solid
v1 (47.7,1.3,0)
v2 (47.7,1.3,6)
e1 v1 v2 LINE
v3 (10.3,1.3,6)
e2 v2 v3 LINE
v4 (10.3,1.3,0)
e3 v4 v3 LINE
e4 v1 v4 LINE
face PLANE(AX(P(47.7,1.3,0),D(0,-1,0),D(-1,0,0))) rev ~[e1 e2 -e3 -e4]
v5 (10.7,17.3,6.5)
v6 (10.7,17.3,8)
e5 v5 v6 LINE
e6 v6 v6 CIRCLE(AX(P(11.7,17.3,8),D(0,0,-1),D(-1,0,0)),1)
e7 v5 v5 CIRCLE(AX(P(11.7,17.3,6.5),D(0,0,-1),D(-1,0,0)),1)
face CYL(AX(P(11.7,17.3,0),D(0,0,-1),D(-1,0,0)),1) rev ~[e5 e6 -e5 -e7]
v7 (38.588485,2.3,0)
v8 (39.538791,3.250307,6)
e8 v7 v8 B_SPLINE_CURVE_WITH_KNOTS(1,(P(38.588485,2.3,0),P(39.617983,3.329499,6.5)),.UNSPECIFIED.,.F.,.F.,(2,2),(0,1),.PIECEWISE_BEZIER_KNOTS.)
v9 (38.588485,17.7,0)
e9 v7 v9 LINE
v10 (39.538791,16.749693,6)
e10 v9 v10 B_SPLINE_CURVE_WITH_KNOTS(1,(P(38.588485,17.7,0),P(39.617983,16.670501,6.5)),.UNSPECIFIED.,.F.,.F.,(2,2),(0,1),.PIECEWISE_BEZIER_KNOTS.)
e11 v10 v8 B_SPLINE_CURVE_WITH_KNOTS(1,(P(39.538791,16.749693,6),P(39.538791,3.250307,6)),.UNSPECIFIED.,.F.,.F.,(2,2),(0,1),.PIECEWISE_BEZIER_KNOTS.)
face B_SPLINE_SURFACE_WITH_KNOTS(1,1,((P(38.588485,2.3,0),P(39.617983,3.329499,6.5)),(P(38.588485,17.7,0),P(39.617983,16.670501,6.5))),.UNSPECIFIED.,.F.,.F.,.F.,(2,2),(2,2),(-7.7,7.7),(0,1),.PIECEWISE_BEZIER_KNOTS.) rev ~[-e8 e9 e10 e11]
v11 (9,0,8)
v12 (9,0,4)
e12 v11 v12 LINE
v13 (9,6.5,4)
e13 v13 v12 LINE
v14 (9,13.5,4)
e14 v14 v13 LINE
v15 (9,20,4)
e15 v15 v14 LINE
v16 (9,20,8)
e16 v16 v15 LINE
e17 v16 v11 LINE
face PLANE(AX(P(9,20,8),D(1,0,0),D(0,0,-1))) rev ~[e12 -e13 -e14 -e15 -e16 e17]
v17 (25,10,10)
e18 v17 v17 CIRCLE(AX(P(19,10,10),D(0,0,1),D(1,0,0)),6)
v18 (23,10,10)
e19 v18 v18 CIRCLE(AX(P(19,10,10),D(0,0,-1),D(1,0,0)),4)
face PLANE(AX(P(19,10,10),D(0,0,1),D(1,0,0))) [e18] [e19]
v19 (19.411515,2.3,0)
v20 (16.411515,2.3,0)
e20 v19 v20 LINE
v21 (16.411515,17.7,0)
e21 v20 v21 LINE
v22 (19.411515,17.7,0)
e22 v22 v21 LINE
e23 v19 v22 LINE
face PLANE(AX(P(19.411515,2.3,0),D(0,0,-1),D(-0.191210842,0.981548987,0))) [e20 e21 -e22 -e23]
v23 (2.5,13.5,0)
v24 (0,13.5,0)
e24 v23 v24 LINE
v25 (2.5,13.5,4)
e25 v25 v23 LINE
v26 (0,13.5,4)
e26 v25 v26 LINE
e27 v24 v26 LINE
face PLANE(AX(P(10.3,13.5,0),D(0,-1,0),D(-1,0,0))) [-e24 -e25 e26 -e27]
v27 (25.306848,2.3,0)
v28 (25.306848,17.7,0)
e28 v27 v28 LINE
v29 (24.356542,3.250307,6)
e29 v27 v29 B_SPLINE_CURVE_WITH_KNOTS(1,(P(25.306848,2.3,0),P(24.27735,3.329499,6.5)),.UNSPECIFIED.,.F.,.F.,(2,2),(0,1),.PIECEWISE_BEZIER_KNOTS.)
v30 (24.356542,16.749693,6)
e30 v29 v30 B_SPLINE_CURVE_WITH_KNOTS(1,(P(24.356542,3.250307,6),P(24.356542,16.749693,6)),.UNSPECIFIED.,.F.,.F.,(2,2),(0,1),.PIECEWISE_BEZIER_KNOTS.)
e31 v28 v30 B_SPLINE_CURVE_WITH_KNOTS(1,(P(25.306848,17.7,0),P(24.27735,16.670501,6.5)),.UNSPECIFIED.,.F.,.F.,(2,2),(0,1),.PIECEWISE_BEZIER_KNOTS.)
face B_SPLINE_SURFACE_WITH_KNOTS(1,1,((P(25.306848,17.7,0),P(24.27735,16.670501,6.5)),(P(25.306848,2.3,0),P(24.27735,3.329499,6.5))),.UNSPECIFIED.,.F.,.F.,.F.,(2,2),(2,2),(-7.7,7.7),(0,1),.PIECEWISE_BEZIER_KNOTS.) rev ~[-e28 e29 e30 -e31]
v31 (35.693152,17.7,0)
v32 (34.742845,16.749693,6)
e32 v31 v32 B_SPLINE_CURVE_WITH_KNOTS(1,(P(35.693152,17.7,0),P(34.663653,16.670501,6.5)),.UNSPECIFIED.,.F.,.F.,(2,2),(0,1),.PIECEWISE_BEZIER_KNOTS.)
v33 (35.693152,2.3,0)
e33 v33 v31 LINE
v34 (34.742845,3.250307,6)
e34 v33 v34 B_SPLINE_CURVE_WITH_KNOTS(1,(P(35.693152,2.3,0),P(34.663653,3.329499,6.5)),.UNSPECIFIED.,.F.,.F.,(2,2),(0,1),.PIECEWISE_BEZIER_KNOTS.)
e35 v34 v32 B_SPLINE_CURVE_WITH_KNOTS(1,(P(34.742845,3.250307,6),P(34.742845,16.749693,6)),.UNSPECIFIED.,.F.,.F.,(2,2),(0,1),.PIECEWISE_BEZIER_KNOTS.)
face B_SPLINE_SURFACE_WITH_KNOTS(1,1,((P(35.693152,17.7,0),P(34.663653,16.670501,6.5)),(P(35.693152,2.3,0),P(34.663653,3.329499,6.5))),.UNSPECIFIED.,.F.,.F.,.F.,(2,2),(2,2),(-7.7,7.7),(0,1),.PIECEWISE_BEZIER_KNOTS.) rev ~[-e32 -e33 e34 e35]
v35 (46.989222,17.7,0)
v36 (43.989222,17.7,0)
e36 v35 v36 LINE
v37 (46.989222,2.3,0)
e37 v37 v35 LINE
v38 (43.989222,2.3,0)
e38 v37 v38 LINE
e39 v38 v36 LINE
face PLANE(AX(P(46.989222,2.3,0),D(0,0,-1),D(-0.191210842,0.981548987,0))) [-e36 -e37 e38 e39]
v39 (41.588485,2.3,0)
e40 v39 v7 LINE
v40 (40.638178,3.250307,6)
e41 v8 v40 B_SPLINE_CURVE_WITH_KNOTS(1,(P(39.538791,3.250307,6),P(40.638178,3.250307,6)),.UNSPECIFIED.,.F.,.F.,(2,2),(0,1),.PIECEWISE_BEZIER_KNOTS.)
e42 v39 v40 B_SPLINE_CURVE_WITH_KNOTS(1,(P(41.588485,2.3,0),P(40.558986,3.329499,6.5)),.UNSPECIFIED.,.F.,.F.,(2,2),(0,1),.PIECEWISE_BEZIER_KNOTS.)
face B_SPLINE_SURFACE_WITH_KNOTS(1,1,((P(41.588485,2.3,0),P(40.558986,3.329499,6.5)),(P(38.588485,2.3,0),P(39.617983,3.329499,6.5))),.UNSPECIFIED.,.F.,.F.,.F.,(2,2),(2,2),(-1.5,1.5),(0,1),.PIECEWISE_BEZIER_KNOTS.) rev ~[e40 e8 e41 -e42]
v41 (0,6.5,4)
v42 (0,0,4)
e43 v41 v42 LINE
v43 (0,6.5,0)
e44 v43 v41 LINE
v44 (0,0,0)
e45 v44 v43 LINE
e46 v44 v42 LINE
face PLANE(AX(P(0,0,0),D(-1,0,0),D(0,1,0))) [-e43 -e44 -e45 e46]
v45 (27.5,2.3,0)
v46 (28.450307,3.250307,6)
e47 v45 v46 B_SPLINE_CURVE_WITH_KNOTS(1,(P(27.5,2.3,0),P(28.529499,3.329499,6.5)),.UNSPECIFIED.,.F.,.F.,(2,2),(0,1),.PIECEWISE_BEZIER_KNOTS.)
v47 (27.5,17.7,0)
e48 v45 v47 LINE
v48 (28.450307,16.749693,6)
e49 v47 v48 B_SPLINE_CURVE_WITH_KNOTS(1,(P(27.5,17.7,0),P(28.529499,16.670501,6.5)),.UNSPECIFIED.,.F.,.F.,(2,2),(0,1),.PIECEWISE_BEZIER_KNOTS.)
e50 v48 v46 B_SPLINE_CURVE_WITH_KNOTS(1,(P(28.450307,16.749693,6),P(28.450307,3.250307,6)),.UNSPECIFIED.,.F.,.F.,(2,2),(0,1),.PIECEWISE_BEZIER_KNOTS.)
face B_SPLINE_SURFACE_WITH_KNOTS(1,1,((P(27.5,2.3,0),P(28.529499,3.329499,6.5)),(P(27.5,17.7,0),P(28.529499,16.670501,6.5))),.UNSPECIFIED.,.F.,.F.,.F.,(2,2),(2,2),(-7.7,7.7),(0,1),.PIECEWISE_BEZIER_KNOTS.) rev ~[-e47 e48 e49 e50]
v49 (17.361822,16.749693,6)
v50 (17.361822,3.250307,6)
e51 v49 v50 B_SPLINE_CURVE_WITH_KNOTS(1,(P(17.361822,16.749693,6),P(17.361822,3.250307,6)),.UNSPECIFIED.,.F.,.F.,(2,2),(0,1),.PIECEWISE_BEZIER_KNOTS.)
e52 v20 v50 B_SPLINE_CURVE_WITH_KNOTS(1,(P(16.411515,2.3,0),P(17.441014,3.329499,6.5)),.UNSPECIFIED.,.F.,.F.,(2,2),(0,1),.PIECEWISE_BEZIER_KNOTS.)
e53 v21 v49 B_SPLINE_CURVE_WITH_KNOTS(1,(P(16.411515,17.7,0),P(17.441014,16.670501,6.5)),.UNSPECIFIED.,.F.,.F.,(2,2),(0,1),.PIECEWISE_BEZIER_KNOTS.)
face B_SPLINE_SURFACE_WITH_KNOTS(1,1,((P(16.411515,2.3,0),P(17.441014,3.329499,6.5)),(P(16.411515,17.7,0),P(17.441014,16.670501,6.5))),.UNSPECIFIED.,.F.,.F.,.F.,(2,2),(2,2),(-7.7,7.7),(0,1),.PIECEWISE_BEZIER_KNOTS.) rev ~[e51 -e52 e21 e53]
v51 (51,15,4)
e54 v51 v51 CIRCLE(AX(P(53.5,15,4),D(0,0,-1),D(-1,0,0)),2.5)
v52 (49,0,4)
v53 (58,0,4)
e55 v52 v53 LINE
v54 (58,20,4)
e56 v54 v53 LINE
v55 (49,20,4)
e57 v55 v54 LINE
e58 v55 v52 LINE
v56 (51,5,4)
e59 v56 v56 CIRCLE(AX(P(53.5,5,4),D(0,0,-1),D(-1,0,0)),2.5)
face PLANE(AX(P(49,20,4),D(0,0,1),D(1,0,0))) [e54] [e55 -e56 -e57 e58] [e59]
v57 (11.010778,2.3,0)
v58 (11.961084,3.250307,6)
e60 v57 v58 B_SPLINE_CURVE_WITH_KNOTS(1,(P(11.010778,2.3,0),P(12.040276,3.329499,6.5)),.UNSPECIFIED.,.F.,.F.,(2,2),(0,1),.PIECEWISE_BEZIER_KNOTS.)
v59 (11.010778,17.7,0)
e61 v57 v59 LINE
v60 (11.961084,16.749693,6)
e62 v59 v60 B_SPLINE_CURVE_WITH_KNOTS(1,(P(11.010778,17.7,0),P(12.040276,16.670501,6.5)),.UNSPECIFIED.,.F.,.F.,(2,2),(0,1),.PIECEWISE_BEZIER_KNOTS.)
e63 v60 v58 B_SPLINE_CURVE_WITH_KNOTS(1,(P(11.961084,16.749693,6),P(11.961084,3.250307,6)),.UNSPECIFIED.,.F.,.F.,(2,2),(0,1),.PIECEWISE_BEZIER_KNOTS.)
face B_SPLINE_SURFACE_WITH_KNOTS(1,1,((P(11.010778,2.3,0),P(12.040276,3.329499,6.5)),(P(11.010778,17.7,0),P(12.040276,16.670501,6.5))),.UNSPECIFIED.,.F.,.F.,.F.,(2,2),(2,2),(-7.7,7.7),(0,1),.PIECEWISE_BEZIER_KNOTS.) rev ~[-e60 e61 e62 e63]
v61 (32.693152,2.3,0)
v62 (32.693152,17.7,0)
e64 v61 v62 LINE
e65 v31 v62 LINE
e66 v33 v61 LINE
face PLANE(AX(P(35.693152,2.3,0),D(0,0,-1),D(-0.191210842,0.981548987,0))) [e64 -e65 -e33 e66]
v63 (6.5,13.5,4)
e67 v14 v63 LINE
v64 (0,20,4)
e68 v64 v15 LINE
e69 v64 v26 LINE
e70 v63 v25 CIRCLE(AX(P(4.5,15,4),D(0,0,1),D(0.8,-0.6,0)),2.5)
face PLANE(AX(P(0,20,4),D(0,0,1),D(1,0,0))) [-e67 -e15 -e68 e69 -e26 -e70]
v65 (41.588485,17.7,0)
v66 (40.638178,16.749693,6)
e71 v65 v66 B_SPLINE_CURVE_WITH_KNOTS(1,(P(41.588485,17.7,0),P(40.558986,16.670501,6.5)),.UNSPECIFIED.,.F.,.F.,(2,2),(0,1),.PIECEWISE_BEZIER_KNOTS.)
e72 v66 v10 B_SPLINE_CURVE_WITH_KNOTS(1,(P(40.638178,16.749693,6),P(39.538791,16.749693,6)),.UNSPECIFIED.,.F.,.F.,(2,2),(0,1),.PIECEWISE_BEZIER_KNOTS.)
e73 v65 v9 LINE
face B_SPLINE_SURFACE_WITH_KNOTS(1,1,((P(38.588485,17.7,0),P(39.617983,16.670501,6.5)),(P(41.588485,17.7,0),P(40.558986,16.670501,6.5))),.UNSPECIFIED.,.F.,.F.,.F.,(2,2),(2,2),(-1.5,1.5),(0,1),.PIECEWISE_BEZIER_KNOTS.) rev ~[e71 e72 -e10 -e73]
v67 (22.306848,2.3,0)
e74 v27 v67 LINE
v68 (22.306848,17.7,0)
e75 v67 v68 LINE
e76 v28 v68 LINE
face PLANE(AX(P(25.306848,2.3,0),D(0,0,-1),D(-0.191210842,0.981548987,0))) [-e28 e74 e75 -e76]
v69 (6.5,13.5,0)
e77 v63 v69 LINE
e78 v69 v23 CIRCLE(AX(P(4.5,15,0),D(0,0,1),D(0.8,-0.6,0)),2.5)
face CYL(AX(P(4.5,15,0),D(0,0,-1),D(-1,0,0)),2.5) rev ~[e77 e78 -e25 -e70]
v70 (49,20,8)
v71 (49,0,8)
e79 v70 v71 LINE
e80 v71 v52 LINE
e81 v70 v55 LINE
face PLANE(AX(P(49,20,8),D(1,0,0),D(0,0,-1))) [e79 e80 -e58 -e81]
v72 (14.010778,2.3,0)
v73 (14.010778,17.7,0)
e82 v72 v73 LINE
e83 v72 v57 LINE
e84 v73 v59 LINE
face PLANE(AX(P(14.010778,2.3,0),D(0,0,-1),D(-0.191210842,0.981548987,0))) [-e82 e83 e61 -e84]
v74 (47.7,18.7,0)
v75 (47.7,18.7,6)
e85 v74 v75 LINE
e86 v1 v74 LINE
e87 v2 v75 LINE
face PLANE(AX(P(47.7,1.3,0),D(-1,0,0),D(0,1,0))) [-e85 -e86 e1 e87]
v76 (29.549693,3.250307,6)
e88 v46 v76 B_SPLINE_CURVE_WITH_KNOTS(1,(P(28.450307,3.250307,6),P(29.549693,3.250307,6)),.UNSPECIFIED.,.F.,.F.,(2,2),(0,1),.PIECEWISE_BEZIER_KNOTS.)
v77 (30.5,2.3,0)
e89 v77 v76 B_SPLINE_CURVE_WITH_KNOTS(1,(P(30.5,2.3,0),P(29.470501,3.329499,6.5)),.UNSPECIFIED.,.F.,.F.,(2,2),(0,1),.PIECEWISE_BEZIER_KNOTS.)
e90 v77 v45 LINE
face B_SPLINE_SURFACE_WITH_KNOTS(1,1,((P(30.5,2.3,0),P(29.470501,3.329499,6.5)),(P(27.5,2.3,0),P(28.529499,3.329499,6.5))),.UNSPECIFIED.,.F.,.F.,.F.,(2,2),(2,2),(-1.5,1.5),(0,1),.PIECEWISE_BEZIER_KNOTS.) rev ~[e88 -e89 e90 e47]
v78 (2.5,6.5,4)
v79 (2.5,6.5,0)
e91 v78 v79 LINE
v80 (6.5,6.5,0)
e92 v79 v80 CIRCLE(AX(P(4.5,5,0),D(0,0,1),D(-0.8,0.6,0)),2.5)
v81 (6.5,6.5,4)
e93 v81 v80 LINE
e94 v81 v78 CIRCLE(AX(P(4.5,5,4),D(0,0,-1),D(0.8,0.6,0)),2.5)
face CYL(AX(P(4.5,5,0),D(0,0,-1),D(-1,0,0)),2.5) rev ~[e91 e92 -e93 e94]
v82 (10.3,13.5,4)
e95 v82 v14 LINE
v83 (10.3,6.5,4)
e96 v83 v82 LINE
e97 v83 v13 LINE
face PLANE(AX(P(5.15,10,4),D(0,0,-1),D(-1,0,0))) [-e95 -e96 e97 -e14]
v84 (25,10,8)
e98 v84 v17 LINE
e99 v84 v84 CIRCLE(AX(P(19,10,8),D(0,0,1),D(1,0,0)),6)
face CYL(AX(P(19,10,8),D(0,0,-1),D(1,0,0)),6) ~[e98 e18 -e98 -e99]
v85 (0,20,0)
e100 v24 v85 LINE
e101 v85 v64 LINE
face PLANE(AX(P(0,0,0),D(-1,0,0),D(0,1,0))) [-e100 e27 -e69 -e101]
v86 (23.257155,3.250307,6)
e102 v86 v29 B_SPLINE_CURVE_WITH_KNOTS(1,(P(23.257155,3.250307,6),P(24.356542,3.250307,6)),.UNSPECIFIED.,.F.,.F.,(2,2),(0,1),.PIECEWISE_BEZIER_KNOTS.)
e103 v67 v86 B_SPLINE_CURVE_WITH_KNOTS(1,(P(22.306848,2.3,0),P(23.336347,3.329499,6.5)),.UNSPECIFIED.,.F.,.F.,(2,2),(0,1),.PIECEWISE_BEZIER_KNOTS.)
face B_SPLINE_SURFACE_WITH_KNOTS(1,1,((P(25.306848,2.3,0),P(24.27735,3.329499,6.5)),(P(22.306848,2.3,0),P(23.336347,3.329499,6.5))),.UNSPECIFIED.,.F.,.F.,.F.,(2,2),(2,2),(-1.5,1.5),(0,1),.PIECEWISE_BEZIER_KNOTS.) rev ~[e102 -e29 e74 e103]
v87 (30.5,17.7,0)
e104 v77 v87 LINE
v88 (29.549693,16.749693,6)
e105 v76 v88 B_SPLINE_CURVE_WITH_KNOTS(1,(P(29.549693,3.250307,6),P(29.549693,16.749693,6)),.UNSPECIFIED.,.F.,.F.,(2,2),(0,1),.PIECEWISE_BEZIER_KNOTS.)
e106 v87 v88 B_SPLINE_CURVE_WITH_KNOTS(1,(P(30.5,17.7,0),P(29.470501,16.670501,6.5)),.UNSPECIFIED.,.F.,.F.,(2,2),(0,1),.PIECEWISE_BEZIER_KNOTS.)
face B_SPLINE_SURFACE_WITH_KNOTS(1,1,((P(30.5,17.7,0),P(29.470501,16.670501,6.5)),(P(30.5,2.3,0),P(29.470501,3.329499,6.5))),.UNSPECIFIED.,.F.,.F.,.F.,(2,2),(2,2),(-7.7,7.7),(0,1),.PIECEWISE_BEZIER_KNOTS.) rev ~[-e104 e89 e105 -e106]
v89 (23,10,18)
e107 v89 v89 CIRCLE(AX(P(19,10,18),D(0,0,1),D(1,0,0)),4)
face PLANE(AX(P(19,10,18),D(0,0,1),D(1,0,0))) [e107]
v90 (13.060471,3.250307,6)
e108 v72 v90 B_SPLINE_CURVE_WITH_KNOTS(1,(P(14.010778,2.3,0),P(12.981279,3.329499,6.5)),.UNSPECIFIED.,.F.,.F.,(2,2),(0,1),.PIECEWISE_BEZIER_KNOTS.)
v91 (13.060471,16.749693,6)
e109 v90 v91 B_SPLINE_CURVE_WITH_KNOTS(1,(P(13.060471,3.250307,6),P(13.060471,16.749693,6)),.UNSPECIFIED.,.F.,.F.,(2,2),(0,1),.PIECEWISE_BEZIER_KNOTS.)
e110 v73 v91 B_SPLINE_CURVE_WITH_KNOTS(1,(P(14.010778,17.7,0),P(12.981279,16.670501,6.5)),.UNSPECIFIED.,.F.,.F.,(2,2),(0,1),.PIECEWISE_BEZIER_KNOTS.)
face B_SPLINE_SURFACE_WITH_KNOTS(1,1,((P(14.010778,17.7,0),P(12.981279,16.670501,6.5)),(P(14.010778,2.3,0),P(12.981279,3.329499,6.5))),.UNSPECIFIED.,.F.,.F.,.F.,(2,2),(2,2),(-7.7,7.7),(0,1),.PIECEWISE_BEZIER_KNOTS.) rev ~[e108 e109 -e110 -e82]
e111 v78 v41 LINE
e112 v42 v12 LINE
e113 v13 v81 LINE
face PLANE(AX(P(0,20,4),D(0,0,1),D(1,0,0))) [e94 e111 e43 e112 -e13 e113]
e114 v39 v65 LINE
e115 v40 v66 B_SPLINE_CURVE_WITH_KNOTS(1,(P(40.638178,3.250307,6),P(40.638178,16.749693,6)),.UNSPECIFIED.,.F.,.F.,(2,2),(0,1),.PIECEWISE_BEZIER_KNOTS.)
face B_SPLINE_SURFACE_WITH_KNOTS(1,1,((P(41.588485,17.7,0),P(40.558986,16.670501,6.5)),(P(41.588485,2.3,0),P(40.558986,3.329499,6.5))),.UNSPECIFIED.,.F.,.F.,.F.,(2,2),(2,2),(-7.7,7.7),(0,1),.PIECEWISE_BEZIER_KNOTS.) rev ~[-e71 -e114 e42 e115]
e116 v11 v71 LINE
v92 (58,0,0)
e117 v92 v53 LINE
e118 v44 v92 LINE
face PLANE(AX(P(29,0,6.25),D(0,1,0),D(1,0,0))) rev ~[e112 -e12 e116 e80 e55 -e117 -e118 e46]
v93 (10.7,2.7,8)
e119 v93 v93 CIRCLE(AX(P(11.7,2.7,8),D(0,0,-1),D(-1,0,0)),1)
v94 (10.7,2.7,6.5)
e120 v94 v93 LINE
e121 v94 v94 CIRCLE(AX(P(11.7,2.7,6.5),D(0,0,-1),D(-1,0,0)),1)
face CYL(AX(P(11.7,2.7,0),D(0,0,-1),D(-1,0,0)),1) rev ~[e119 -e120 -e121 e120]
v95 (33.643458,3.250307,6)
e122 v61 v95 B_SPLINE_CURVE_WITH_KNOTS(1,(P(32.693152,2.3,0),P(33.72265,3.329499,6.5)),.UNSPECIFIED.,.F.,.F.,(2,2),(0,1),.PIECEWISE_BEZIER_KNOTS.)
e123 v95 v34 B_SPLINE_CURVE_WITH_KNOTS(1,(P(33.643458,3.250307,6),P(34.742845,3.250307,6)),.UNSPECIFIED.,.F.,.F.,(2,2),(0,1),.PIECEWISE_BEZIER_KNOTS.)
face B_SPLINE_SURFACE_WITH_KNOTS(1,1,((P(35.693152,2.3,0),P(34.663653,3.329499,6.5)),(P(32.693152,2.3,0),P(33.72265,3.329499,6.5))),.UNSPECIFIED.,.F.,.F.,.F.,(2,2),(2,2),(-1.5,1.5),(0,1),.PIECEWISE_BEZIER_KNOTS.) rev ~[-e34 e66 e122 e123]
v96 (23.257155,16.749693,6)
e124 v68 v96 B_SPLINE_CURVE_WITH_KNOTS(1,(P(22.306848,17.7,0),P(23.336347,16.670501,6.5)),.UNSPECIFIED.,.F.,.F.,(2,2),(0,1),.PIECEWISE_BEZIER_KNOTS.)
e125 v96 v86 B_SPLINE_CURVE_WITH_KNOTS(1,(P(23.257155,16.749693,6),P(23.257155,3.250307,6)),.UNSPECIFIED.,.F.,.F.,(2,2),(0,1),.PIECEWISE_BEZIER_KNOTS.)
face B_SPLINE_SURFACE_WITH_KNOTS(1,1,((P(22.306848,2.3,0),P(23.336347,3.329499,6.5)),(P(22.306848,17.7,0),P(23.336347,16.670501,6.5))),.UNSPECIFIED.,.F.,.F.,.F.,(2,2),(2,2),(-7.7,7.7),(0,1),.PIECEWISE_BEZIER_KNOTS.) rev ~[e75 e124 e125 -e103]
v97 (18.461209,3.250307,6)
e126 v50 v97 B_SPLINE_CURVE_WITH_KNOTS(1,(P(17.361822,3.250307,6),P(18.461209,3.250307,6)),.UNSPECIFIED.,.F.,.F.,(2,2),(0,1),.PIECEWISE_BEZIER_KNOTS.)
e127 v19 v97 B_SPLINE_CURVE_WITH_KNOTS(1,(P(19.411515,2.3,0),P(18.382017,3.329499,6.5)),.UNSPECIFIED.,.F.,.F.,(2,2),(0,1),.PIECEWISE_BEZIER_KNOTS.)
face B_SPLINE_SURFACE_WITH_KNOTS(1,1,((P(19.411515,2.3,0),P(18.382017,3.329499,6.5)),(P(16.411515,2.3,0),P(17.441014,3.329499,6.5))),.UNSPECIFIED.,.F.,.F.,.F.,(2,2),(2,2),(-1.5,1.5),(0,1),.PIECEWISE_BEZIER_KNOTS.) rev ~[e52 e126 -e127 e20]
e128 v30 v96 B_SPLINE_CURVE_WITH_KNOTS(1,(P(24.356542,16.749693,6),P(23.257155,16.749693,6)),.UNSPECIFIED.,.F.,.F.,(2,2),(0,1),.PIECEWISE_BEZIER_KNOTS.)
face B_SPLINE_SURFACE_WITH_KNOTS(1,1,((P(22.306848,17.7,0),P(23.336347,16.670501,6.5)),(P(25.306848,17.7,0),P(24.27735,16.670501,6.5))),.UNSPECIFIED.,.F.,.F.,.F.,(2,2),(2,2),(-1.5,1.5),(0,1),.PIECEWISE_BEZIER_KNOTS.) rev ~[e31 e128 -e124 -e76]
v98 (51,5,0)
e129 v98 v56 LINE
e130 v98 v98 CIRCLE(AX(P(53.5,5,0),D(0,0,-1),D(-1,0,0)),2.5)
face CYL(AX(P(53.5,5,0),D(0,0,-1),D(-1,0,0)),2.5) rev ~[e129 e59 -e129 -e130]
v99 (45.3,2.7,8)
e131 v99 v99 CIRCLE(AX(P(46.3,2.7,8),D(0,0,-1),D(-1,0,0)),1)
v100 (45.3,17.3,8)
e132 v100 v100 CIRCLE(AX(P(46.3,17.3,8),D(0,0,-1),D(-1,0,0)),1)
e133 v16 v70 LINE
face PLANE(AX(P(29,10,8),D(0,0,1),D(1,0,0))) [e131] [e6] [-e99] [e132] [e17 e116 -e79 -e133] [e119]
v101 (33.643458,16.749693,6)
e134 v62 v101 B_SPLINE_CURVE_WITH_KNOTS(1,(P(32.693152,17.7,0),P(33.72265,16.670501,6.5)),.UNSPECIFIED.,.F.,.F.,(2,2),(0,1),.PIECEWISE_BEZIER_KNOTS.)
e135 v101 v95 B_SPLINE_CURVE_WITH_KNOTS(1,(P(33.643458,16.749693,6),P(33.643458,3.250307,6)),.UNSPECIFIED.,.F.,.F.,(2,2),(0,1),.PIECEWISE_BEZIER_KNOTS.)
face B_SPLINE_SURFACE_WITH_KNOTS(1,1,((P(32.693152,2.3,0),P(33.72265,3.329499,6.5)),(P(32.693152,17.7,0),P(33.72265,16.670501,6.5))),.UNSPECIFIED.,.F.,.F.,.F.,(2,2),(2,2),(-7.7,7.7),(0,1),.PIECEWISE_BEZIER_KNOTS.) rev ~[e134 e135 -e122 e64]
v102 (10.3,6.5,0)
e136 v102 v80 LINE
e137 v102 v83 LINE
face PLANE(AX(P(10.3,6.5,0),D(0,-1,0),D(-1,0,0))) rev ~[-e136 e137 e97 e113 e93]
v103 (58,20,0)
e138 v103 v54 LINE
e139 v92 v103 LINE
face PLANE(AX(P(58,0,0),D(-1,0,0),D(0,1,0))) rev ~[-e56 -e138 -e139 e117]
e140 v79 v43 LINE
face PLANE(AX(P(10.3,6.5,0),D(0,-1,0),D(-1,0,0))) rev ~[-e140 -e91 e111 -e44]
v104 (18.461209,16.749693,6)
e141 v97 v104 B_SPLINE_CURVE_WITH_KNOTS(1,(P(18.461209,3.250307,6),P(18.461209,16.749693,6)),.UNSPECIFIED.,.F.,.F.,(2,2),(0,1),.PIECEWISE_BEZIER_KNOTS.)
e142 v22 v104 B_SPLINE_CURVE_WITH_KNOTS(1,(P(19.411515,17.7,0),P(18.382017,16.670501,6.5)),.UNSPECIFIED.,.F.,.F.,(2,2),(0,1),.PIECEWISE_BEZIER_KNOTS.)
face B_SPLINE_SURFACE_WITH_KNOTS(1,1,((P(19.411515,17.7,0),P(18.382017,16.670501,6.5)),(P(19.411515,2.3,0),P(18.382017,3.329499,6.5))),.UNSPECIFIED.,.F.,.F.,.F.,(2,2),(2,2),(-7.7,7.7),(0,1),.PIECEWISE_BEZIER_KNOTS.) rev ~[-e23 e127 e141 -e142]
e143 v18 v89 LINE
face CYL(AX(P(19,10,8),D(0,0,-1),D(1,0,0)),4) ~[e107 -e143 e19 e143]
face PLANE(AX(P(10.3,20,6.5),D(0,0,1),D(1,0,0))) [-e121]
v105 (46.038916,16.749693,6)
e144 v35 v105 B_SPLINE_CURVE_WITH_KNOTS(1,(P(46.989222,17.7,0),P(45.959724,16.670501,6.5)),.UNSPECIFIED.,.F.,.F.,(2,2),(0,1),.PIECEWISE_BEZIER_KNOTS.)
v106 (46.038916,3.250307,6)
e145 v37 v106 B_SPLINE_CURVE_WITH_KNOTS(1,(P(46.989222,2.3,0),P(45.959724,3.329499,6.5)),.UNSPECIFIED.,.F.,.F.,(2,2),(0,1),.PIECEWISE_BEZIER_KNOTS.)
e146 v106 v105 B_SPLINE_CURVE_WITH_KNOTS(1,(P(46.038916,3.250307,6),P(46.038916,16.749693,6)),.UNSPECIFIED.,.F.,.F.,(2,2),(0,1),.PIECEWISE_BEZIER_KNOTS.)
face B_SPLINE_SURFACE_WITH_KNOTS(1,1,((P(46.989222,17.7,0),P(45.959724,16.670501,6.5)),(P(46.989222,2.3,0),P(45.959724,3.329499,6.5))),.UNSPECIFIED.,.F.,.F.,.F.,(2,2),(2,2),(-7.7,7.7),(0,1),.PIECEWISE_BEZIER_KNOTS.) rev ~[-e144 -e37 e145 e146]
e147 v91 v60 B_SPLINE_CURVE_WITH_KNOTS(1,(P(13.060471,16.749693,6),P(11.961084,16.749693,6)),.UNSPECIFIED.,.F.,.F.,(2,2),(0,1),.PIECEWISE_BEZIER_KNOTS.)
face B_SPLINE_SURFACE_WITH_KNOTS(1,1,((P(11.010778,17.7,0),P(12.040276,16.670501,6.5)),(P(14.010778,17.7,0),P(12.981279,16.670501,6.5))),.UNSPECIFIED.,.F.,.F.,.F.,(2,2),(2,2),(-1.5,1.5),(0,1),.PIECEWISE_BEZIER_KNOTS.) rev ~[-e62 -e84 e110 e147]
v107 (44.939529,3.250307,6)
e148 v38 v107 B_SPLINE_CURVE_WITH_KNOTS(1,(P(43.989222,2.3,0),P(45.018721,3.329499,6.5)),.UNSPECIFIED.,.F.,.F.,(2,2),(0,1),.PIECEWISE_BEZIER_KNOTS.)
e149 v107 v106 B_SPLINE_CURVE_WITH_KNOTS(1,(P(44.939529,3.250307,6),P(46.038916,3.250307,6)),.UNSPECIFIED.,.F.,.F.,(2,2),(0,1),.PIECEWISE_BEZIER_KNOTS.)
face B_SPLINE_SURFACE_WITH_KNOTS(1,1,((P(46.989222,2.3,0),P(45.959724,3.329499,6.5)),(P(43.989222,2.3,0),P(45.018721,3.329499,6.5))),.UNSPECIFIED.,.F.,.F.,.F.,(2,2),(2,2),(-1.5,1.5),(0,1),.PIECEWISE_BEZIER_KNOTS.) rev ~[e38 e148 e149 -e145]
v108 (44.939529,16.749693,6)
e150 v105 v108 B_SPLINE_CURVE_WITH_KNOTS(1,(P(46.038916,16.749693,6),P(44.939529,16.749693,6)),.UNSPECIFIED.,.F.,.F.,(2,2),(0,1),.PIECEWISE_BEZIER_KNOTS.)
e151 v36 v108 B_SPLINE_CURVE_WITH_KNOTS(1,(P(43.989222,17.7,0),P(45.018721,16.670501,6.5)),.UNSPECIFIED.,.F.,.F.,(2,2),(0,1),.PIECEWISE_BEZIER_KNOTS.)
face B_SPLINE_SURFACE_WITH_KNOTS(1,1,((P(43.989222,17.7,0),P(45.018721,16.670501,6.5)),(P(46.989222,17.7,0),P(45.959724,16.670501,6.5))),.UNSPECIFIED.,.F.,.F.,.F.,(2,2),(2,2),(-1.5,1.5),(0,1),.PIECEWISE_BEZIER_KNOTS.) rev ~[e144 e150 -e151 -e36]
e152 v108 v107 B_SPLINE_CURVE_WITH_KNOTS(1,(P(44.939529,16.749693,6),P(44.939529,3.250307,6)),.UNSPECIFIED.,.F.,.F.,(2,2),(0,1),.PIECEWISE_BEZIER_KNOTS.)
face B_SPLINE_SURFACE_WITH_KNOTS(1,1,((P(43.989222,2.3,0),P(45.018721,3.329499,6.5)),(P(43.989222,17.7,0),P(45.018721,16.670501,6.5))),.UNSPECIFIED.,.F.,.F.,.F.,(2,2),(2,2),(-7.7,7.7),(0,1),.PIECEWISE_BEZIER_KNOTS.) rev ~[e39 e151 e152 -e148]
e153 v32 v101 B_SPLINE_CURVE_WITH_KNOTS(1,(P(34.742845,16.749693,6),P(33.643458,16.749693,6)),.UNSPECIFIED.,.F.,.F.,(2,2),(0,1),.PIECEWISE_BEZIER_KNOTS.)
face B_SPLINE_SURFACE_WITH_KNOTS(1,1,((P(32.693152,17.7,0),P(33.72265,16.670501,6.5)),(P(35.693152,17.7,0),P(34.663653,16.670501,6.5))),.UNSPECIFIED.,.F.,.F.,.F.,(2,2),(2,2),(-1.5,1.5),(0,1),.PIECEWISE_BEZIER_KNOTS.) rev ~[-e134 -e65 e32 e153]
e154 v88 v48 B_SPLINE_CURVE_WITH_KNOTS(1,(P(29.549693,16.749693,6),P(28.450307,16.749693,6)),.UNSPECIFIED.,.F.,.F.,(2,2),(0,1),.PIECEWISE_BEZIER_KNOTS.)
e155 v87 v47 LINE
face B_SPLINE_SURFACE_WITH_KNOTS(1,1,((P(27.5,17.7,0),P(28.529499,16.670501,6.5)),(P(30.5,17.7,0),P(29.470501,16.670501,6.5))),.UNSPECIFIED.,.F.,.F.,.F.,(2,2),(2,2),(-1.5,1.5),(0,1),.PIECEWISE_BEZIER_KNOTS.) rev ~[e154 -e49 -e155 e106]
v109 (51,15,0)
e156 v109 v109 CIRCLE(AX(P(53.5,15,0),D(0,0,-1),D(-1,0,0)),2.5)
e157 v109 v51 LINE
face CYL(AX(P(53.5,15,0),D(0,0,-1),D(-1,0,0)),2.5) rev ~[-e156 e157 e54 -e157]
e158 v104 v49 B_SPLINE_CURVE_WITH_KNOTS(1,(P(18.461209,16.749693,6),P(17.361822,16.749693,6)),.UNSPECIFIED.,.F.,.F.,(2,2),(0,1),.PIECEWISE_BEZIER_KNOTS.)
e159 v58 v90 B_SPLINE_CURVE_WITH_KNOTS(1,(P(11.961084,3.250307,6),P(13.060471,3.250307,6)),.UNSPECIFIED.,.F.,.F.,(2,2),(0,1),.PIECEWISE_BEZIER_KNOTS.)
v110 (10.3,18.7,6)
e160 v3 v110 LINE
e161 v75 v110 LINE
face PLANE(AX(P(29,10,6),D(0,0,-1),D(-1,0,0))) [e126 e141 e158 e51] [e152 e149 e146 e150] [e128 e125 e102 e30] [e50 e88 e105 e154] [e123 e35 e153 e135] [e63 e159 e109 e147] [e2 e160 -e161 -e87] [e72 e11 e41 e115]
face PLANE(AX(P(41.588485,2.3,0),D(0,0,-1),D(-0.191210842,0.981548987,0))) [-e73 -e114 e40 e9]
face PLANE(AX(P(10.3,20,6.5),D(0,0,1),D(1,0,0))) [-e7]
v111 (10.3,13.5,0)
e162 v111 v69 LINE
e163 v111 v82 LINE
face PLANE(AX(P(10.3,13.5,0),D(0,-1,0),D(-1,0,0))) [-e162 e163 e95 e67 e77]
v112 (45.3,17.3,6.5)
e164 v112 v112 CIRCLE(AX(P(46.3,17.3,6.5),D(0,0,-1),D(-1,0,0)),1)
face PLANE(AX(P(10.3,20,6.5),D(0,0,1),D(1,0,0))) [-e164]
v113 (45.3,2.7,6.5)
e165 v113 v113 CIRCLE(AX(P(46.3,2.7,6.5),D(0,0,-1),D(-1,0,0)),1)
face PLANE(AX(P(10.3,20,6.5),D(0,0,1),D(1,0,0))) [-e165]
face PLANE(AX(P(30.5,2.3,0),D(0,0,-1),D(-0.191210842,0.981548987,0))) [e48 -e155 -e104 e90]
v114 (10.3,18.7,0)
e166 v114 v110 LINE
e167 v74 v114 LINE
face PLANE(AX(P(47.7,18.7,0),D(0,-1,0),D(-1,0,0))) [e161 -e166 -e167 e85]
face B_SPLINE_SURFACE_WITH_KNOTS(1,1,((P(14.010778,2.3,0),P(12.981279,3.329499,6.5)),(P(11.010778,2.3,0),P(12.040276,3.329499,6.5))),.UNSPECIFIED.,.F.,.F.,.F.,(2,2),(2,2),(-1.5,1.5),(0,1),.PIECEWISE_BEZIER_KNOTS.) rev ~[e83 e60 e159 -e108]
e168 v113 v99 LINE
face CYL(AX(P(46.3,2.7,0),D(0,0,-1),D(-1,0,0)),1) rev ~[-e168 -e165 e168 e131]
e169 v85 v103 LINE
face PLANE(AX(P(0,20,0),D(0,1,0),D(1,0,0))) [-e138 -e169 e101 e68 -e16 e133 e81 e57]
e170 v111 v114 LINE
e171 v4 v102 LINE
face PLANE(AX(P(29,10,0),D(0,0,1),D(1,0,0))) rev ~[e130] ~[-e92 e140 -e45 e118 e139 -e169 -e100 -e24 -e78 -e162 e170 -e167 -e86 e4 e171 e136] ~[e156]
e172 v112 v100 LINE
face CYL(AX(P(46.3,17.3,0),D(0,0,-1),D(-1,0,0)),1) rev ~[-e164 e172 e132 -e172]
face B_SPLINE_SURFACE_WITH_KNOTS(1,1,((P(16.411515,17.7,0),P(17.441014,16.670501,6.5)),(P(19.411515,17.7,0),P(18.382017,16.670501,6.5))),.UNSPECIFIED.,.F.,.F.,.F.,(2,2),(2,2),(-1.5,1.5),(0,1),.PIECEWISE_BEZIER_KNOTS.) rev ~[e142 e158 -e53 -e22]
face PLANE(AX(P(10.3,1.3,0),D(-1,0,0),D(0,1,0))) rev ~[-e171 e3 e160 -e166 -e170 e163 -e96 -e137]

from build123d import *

# Parameters (mm, degrees)
ESQUISSE1_W             = 58
ESQUISSE1_H             = 20
EXTRUSION1_DEPTH        = 8
ESQUISSE2_W             = 37.4
ESQUISSE2_H             = 17.4
ENL_V_MAT_EXTRU_1_DEPTH = 6
ESQUISSE3_W             = 9
ESQUISSE3_H             = 4
ENL_V_MAT_EXTRU_2_DEPTH = 21
ESQUISSE4_R             = 2.5
ESQUISSE4_R_2           = 1
ENL_V_MAT_EXTRU_3_DEPTH = 9
ESQUISSE5_R             = 4
EXTRUSION2_DEPTH        = 10
ESQUISSE6_W             = 10.3
ESQUISSE6_H             = 7
ENL_V_MAT_EXTRU_4_DEPTH = 4
ESQUISSE10_W            = 37.4
ESQUISSE10_H            = 0.5
EXTRUSION8_DEPTH        = 20
ESQUISSE8_W             = 3
ESQUISSE8_H             = 15.4
EXTRUSION7_DEPTH        = 6.5
EXTRUSION7_TAPER        = 9
ESQUISSE11_R            = 6
EXTRUSION9_DEPTH        = 2


with BuildPart() as part:
    # Esquisse1 → Extrusion1 (new body)
    with BuildSketch(Plane.XY):
        with Locations((29, 10)):
            Rectangle(ESQUISSE1_W, ESQUISSE1_H)
    extrude(amount=EXTRUSION1_DEPTH)

    # Esquisse2 → Enlèv. mat.-Extru.1 (cut)
    with BuildSketch(Plane(origin=(0, 0, 0), x_dir=(-1, 0, 0), z_dir=(0, 0, -1))):
        with Locations((-29, 10)):
            Rectangle(ESQUISSE2_W, ESQUISSE2_H)
    extrude(amount=-ENL_V_MAT_EXTRU_1_DEPTH, mode=Mode.SUBTRACT)

    # Esquisse3 → Enlèv. mat.-Extru.2 (cut, through all)
    with BuildSketch(Plane(origin=(0, 20, 0), x_dir=(1, 0, 0), z_dir=(0, 1, 0))):
        with Locations((4.5, -6)):
            Rectangle(ESQUISSE3_W, ESQUISSE3_H)
        with Locations((53.5, -6)):
            Rectangle(ESQUISSE3_W, ESQUISSE3_H)
    extrude(amount=-ENL_V_MAT_EXTRU_2_DEPTH, mode=Mode.SUBTRACT)

    # Esquisse4 → Enlèv. mat.-Extru.3 (cut, through all)
    with BuildSketch(Plane(origin=(0, 0, 0), x_dir=(-1, 0, 0), z_dir=(0, 0, -1))):
        with Locations((-53.5, 15)):
            Circle(ESQUISSE4_R)
        with Locations((-46.3, 17.3)):
            Circle(ESQUISSE4_R_2)
        with Locations((-46.3, 2.7)):
            Circle(ESQUISSE4_R_2)
        with Locations((-53.5, 5)):
            Circle(ESQUISSE4_R)
        with Locations((-4.5, 5)):
            Circle(ESQUISSE4_R)
        with Locations((-11.7, 2.7)):
            Circle(ESQUISSE4_R_2)
        with Locations((-11.7, 17.3)):
            Circle(ESQUISSE4_R_2)
        with Locations((-4.5, 15)):
            Circle(ESQUISSE4_R)
    extrude(amount=-ENL_V_MAT_EXTRU_3_DEPTH, mode=Mode.SUBTRACT)

    # Esquisse5 → Extrusion2 (add)
    with BuildSketch(Plane.XY.offset(8)):
        with Locations((19, 10)):
            Circle(ESQUISSE5_R)
    extrude(amount=EXTRUSION2_DEPTH)

    # Esquisse6 → Enlèv. mat.-Extru.4 (cut)
    with BuildSketch(Plane(origin=(0, 0, 0), x_dir=(-1, 0, 0), z_dir=(0, 0, -1))):
        with Locations((-5.15, 10)):
            Rectangle(ESQUISSE6_W, ESQUISSE6_H)
    extrude(amount=-ENL_V_MAT_EXTRU_4_DEPTH, mode=Mode.SUBTRACT)

    # Esquisse10 → Extrusion8 (add)
    with BuildSketch(Plane(origin=(0, 20, 0), x_dir=(1, 0, 0), z_dir=(0, 1, 0))):
        with Locations((29, -6.25)):
            Rectangle(ESQUISSE10_W, ESQUISSE10_H)
    extrude(amount=-EXTRUSION8_DEPTH)

    # Esquisse8 → Extrusion7 (add)
    with BuildSketch(Plane(origin=(0, 0, 0), x_dir=(-1, 0, 0), z_dir=(0, 0, -1))):
        with Locations((-23.806848388, 10)):
            Rectangle(ESQUISSE8_W, ESQUISSE8_H)
        with Locations((-45.489222367, 10)):
            Rectangle(ESQUISSE8_W, ESQUISSE8_H)
        with Locations((-40.088484526, 10)):
            Rectangle(ESQUISSE8_W, ESQUISSE8_H)
        with Locations((-34.193151612, 10)):
            Rectangle(ESQUISSE8_W, ESQUISSE8_H)
        with Locations((-29, 10)):
            Rectangle(ESQUISSE8_W, ESQUISSE8_H)
        with Locations((-17.911515474, 10)):
            Rectangle(ESQUISSE8_W, ESQUISSE8_H)
        with Locations((-12.510777633, 10)):
            Rectangle(ESQUISSE8_W, ESQUISSE8_H)
    extrude(amount=-EXTRUSION7_DEPTH, taper=EXTRUSION7_TAPER)

    # Esquisse11 → Extrusion9 (add)
    with BuildSketch(Plane.XY.offset(8)):
        with Locations((19, 10)):
            Circle(ESQUISSE11_R)
    extrude(amount=EXTRUSION9_DEPTH)


solid = part.part
